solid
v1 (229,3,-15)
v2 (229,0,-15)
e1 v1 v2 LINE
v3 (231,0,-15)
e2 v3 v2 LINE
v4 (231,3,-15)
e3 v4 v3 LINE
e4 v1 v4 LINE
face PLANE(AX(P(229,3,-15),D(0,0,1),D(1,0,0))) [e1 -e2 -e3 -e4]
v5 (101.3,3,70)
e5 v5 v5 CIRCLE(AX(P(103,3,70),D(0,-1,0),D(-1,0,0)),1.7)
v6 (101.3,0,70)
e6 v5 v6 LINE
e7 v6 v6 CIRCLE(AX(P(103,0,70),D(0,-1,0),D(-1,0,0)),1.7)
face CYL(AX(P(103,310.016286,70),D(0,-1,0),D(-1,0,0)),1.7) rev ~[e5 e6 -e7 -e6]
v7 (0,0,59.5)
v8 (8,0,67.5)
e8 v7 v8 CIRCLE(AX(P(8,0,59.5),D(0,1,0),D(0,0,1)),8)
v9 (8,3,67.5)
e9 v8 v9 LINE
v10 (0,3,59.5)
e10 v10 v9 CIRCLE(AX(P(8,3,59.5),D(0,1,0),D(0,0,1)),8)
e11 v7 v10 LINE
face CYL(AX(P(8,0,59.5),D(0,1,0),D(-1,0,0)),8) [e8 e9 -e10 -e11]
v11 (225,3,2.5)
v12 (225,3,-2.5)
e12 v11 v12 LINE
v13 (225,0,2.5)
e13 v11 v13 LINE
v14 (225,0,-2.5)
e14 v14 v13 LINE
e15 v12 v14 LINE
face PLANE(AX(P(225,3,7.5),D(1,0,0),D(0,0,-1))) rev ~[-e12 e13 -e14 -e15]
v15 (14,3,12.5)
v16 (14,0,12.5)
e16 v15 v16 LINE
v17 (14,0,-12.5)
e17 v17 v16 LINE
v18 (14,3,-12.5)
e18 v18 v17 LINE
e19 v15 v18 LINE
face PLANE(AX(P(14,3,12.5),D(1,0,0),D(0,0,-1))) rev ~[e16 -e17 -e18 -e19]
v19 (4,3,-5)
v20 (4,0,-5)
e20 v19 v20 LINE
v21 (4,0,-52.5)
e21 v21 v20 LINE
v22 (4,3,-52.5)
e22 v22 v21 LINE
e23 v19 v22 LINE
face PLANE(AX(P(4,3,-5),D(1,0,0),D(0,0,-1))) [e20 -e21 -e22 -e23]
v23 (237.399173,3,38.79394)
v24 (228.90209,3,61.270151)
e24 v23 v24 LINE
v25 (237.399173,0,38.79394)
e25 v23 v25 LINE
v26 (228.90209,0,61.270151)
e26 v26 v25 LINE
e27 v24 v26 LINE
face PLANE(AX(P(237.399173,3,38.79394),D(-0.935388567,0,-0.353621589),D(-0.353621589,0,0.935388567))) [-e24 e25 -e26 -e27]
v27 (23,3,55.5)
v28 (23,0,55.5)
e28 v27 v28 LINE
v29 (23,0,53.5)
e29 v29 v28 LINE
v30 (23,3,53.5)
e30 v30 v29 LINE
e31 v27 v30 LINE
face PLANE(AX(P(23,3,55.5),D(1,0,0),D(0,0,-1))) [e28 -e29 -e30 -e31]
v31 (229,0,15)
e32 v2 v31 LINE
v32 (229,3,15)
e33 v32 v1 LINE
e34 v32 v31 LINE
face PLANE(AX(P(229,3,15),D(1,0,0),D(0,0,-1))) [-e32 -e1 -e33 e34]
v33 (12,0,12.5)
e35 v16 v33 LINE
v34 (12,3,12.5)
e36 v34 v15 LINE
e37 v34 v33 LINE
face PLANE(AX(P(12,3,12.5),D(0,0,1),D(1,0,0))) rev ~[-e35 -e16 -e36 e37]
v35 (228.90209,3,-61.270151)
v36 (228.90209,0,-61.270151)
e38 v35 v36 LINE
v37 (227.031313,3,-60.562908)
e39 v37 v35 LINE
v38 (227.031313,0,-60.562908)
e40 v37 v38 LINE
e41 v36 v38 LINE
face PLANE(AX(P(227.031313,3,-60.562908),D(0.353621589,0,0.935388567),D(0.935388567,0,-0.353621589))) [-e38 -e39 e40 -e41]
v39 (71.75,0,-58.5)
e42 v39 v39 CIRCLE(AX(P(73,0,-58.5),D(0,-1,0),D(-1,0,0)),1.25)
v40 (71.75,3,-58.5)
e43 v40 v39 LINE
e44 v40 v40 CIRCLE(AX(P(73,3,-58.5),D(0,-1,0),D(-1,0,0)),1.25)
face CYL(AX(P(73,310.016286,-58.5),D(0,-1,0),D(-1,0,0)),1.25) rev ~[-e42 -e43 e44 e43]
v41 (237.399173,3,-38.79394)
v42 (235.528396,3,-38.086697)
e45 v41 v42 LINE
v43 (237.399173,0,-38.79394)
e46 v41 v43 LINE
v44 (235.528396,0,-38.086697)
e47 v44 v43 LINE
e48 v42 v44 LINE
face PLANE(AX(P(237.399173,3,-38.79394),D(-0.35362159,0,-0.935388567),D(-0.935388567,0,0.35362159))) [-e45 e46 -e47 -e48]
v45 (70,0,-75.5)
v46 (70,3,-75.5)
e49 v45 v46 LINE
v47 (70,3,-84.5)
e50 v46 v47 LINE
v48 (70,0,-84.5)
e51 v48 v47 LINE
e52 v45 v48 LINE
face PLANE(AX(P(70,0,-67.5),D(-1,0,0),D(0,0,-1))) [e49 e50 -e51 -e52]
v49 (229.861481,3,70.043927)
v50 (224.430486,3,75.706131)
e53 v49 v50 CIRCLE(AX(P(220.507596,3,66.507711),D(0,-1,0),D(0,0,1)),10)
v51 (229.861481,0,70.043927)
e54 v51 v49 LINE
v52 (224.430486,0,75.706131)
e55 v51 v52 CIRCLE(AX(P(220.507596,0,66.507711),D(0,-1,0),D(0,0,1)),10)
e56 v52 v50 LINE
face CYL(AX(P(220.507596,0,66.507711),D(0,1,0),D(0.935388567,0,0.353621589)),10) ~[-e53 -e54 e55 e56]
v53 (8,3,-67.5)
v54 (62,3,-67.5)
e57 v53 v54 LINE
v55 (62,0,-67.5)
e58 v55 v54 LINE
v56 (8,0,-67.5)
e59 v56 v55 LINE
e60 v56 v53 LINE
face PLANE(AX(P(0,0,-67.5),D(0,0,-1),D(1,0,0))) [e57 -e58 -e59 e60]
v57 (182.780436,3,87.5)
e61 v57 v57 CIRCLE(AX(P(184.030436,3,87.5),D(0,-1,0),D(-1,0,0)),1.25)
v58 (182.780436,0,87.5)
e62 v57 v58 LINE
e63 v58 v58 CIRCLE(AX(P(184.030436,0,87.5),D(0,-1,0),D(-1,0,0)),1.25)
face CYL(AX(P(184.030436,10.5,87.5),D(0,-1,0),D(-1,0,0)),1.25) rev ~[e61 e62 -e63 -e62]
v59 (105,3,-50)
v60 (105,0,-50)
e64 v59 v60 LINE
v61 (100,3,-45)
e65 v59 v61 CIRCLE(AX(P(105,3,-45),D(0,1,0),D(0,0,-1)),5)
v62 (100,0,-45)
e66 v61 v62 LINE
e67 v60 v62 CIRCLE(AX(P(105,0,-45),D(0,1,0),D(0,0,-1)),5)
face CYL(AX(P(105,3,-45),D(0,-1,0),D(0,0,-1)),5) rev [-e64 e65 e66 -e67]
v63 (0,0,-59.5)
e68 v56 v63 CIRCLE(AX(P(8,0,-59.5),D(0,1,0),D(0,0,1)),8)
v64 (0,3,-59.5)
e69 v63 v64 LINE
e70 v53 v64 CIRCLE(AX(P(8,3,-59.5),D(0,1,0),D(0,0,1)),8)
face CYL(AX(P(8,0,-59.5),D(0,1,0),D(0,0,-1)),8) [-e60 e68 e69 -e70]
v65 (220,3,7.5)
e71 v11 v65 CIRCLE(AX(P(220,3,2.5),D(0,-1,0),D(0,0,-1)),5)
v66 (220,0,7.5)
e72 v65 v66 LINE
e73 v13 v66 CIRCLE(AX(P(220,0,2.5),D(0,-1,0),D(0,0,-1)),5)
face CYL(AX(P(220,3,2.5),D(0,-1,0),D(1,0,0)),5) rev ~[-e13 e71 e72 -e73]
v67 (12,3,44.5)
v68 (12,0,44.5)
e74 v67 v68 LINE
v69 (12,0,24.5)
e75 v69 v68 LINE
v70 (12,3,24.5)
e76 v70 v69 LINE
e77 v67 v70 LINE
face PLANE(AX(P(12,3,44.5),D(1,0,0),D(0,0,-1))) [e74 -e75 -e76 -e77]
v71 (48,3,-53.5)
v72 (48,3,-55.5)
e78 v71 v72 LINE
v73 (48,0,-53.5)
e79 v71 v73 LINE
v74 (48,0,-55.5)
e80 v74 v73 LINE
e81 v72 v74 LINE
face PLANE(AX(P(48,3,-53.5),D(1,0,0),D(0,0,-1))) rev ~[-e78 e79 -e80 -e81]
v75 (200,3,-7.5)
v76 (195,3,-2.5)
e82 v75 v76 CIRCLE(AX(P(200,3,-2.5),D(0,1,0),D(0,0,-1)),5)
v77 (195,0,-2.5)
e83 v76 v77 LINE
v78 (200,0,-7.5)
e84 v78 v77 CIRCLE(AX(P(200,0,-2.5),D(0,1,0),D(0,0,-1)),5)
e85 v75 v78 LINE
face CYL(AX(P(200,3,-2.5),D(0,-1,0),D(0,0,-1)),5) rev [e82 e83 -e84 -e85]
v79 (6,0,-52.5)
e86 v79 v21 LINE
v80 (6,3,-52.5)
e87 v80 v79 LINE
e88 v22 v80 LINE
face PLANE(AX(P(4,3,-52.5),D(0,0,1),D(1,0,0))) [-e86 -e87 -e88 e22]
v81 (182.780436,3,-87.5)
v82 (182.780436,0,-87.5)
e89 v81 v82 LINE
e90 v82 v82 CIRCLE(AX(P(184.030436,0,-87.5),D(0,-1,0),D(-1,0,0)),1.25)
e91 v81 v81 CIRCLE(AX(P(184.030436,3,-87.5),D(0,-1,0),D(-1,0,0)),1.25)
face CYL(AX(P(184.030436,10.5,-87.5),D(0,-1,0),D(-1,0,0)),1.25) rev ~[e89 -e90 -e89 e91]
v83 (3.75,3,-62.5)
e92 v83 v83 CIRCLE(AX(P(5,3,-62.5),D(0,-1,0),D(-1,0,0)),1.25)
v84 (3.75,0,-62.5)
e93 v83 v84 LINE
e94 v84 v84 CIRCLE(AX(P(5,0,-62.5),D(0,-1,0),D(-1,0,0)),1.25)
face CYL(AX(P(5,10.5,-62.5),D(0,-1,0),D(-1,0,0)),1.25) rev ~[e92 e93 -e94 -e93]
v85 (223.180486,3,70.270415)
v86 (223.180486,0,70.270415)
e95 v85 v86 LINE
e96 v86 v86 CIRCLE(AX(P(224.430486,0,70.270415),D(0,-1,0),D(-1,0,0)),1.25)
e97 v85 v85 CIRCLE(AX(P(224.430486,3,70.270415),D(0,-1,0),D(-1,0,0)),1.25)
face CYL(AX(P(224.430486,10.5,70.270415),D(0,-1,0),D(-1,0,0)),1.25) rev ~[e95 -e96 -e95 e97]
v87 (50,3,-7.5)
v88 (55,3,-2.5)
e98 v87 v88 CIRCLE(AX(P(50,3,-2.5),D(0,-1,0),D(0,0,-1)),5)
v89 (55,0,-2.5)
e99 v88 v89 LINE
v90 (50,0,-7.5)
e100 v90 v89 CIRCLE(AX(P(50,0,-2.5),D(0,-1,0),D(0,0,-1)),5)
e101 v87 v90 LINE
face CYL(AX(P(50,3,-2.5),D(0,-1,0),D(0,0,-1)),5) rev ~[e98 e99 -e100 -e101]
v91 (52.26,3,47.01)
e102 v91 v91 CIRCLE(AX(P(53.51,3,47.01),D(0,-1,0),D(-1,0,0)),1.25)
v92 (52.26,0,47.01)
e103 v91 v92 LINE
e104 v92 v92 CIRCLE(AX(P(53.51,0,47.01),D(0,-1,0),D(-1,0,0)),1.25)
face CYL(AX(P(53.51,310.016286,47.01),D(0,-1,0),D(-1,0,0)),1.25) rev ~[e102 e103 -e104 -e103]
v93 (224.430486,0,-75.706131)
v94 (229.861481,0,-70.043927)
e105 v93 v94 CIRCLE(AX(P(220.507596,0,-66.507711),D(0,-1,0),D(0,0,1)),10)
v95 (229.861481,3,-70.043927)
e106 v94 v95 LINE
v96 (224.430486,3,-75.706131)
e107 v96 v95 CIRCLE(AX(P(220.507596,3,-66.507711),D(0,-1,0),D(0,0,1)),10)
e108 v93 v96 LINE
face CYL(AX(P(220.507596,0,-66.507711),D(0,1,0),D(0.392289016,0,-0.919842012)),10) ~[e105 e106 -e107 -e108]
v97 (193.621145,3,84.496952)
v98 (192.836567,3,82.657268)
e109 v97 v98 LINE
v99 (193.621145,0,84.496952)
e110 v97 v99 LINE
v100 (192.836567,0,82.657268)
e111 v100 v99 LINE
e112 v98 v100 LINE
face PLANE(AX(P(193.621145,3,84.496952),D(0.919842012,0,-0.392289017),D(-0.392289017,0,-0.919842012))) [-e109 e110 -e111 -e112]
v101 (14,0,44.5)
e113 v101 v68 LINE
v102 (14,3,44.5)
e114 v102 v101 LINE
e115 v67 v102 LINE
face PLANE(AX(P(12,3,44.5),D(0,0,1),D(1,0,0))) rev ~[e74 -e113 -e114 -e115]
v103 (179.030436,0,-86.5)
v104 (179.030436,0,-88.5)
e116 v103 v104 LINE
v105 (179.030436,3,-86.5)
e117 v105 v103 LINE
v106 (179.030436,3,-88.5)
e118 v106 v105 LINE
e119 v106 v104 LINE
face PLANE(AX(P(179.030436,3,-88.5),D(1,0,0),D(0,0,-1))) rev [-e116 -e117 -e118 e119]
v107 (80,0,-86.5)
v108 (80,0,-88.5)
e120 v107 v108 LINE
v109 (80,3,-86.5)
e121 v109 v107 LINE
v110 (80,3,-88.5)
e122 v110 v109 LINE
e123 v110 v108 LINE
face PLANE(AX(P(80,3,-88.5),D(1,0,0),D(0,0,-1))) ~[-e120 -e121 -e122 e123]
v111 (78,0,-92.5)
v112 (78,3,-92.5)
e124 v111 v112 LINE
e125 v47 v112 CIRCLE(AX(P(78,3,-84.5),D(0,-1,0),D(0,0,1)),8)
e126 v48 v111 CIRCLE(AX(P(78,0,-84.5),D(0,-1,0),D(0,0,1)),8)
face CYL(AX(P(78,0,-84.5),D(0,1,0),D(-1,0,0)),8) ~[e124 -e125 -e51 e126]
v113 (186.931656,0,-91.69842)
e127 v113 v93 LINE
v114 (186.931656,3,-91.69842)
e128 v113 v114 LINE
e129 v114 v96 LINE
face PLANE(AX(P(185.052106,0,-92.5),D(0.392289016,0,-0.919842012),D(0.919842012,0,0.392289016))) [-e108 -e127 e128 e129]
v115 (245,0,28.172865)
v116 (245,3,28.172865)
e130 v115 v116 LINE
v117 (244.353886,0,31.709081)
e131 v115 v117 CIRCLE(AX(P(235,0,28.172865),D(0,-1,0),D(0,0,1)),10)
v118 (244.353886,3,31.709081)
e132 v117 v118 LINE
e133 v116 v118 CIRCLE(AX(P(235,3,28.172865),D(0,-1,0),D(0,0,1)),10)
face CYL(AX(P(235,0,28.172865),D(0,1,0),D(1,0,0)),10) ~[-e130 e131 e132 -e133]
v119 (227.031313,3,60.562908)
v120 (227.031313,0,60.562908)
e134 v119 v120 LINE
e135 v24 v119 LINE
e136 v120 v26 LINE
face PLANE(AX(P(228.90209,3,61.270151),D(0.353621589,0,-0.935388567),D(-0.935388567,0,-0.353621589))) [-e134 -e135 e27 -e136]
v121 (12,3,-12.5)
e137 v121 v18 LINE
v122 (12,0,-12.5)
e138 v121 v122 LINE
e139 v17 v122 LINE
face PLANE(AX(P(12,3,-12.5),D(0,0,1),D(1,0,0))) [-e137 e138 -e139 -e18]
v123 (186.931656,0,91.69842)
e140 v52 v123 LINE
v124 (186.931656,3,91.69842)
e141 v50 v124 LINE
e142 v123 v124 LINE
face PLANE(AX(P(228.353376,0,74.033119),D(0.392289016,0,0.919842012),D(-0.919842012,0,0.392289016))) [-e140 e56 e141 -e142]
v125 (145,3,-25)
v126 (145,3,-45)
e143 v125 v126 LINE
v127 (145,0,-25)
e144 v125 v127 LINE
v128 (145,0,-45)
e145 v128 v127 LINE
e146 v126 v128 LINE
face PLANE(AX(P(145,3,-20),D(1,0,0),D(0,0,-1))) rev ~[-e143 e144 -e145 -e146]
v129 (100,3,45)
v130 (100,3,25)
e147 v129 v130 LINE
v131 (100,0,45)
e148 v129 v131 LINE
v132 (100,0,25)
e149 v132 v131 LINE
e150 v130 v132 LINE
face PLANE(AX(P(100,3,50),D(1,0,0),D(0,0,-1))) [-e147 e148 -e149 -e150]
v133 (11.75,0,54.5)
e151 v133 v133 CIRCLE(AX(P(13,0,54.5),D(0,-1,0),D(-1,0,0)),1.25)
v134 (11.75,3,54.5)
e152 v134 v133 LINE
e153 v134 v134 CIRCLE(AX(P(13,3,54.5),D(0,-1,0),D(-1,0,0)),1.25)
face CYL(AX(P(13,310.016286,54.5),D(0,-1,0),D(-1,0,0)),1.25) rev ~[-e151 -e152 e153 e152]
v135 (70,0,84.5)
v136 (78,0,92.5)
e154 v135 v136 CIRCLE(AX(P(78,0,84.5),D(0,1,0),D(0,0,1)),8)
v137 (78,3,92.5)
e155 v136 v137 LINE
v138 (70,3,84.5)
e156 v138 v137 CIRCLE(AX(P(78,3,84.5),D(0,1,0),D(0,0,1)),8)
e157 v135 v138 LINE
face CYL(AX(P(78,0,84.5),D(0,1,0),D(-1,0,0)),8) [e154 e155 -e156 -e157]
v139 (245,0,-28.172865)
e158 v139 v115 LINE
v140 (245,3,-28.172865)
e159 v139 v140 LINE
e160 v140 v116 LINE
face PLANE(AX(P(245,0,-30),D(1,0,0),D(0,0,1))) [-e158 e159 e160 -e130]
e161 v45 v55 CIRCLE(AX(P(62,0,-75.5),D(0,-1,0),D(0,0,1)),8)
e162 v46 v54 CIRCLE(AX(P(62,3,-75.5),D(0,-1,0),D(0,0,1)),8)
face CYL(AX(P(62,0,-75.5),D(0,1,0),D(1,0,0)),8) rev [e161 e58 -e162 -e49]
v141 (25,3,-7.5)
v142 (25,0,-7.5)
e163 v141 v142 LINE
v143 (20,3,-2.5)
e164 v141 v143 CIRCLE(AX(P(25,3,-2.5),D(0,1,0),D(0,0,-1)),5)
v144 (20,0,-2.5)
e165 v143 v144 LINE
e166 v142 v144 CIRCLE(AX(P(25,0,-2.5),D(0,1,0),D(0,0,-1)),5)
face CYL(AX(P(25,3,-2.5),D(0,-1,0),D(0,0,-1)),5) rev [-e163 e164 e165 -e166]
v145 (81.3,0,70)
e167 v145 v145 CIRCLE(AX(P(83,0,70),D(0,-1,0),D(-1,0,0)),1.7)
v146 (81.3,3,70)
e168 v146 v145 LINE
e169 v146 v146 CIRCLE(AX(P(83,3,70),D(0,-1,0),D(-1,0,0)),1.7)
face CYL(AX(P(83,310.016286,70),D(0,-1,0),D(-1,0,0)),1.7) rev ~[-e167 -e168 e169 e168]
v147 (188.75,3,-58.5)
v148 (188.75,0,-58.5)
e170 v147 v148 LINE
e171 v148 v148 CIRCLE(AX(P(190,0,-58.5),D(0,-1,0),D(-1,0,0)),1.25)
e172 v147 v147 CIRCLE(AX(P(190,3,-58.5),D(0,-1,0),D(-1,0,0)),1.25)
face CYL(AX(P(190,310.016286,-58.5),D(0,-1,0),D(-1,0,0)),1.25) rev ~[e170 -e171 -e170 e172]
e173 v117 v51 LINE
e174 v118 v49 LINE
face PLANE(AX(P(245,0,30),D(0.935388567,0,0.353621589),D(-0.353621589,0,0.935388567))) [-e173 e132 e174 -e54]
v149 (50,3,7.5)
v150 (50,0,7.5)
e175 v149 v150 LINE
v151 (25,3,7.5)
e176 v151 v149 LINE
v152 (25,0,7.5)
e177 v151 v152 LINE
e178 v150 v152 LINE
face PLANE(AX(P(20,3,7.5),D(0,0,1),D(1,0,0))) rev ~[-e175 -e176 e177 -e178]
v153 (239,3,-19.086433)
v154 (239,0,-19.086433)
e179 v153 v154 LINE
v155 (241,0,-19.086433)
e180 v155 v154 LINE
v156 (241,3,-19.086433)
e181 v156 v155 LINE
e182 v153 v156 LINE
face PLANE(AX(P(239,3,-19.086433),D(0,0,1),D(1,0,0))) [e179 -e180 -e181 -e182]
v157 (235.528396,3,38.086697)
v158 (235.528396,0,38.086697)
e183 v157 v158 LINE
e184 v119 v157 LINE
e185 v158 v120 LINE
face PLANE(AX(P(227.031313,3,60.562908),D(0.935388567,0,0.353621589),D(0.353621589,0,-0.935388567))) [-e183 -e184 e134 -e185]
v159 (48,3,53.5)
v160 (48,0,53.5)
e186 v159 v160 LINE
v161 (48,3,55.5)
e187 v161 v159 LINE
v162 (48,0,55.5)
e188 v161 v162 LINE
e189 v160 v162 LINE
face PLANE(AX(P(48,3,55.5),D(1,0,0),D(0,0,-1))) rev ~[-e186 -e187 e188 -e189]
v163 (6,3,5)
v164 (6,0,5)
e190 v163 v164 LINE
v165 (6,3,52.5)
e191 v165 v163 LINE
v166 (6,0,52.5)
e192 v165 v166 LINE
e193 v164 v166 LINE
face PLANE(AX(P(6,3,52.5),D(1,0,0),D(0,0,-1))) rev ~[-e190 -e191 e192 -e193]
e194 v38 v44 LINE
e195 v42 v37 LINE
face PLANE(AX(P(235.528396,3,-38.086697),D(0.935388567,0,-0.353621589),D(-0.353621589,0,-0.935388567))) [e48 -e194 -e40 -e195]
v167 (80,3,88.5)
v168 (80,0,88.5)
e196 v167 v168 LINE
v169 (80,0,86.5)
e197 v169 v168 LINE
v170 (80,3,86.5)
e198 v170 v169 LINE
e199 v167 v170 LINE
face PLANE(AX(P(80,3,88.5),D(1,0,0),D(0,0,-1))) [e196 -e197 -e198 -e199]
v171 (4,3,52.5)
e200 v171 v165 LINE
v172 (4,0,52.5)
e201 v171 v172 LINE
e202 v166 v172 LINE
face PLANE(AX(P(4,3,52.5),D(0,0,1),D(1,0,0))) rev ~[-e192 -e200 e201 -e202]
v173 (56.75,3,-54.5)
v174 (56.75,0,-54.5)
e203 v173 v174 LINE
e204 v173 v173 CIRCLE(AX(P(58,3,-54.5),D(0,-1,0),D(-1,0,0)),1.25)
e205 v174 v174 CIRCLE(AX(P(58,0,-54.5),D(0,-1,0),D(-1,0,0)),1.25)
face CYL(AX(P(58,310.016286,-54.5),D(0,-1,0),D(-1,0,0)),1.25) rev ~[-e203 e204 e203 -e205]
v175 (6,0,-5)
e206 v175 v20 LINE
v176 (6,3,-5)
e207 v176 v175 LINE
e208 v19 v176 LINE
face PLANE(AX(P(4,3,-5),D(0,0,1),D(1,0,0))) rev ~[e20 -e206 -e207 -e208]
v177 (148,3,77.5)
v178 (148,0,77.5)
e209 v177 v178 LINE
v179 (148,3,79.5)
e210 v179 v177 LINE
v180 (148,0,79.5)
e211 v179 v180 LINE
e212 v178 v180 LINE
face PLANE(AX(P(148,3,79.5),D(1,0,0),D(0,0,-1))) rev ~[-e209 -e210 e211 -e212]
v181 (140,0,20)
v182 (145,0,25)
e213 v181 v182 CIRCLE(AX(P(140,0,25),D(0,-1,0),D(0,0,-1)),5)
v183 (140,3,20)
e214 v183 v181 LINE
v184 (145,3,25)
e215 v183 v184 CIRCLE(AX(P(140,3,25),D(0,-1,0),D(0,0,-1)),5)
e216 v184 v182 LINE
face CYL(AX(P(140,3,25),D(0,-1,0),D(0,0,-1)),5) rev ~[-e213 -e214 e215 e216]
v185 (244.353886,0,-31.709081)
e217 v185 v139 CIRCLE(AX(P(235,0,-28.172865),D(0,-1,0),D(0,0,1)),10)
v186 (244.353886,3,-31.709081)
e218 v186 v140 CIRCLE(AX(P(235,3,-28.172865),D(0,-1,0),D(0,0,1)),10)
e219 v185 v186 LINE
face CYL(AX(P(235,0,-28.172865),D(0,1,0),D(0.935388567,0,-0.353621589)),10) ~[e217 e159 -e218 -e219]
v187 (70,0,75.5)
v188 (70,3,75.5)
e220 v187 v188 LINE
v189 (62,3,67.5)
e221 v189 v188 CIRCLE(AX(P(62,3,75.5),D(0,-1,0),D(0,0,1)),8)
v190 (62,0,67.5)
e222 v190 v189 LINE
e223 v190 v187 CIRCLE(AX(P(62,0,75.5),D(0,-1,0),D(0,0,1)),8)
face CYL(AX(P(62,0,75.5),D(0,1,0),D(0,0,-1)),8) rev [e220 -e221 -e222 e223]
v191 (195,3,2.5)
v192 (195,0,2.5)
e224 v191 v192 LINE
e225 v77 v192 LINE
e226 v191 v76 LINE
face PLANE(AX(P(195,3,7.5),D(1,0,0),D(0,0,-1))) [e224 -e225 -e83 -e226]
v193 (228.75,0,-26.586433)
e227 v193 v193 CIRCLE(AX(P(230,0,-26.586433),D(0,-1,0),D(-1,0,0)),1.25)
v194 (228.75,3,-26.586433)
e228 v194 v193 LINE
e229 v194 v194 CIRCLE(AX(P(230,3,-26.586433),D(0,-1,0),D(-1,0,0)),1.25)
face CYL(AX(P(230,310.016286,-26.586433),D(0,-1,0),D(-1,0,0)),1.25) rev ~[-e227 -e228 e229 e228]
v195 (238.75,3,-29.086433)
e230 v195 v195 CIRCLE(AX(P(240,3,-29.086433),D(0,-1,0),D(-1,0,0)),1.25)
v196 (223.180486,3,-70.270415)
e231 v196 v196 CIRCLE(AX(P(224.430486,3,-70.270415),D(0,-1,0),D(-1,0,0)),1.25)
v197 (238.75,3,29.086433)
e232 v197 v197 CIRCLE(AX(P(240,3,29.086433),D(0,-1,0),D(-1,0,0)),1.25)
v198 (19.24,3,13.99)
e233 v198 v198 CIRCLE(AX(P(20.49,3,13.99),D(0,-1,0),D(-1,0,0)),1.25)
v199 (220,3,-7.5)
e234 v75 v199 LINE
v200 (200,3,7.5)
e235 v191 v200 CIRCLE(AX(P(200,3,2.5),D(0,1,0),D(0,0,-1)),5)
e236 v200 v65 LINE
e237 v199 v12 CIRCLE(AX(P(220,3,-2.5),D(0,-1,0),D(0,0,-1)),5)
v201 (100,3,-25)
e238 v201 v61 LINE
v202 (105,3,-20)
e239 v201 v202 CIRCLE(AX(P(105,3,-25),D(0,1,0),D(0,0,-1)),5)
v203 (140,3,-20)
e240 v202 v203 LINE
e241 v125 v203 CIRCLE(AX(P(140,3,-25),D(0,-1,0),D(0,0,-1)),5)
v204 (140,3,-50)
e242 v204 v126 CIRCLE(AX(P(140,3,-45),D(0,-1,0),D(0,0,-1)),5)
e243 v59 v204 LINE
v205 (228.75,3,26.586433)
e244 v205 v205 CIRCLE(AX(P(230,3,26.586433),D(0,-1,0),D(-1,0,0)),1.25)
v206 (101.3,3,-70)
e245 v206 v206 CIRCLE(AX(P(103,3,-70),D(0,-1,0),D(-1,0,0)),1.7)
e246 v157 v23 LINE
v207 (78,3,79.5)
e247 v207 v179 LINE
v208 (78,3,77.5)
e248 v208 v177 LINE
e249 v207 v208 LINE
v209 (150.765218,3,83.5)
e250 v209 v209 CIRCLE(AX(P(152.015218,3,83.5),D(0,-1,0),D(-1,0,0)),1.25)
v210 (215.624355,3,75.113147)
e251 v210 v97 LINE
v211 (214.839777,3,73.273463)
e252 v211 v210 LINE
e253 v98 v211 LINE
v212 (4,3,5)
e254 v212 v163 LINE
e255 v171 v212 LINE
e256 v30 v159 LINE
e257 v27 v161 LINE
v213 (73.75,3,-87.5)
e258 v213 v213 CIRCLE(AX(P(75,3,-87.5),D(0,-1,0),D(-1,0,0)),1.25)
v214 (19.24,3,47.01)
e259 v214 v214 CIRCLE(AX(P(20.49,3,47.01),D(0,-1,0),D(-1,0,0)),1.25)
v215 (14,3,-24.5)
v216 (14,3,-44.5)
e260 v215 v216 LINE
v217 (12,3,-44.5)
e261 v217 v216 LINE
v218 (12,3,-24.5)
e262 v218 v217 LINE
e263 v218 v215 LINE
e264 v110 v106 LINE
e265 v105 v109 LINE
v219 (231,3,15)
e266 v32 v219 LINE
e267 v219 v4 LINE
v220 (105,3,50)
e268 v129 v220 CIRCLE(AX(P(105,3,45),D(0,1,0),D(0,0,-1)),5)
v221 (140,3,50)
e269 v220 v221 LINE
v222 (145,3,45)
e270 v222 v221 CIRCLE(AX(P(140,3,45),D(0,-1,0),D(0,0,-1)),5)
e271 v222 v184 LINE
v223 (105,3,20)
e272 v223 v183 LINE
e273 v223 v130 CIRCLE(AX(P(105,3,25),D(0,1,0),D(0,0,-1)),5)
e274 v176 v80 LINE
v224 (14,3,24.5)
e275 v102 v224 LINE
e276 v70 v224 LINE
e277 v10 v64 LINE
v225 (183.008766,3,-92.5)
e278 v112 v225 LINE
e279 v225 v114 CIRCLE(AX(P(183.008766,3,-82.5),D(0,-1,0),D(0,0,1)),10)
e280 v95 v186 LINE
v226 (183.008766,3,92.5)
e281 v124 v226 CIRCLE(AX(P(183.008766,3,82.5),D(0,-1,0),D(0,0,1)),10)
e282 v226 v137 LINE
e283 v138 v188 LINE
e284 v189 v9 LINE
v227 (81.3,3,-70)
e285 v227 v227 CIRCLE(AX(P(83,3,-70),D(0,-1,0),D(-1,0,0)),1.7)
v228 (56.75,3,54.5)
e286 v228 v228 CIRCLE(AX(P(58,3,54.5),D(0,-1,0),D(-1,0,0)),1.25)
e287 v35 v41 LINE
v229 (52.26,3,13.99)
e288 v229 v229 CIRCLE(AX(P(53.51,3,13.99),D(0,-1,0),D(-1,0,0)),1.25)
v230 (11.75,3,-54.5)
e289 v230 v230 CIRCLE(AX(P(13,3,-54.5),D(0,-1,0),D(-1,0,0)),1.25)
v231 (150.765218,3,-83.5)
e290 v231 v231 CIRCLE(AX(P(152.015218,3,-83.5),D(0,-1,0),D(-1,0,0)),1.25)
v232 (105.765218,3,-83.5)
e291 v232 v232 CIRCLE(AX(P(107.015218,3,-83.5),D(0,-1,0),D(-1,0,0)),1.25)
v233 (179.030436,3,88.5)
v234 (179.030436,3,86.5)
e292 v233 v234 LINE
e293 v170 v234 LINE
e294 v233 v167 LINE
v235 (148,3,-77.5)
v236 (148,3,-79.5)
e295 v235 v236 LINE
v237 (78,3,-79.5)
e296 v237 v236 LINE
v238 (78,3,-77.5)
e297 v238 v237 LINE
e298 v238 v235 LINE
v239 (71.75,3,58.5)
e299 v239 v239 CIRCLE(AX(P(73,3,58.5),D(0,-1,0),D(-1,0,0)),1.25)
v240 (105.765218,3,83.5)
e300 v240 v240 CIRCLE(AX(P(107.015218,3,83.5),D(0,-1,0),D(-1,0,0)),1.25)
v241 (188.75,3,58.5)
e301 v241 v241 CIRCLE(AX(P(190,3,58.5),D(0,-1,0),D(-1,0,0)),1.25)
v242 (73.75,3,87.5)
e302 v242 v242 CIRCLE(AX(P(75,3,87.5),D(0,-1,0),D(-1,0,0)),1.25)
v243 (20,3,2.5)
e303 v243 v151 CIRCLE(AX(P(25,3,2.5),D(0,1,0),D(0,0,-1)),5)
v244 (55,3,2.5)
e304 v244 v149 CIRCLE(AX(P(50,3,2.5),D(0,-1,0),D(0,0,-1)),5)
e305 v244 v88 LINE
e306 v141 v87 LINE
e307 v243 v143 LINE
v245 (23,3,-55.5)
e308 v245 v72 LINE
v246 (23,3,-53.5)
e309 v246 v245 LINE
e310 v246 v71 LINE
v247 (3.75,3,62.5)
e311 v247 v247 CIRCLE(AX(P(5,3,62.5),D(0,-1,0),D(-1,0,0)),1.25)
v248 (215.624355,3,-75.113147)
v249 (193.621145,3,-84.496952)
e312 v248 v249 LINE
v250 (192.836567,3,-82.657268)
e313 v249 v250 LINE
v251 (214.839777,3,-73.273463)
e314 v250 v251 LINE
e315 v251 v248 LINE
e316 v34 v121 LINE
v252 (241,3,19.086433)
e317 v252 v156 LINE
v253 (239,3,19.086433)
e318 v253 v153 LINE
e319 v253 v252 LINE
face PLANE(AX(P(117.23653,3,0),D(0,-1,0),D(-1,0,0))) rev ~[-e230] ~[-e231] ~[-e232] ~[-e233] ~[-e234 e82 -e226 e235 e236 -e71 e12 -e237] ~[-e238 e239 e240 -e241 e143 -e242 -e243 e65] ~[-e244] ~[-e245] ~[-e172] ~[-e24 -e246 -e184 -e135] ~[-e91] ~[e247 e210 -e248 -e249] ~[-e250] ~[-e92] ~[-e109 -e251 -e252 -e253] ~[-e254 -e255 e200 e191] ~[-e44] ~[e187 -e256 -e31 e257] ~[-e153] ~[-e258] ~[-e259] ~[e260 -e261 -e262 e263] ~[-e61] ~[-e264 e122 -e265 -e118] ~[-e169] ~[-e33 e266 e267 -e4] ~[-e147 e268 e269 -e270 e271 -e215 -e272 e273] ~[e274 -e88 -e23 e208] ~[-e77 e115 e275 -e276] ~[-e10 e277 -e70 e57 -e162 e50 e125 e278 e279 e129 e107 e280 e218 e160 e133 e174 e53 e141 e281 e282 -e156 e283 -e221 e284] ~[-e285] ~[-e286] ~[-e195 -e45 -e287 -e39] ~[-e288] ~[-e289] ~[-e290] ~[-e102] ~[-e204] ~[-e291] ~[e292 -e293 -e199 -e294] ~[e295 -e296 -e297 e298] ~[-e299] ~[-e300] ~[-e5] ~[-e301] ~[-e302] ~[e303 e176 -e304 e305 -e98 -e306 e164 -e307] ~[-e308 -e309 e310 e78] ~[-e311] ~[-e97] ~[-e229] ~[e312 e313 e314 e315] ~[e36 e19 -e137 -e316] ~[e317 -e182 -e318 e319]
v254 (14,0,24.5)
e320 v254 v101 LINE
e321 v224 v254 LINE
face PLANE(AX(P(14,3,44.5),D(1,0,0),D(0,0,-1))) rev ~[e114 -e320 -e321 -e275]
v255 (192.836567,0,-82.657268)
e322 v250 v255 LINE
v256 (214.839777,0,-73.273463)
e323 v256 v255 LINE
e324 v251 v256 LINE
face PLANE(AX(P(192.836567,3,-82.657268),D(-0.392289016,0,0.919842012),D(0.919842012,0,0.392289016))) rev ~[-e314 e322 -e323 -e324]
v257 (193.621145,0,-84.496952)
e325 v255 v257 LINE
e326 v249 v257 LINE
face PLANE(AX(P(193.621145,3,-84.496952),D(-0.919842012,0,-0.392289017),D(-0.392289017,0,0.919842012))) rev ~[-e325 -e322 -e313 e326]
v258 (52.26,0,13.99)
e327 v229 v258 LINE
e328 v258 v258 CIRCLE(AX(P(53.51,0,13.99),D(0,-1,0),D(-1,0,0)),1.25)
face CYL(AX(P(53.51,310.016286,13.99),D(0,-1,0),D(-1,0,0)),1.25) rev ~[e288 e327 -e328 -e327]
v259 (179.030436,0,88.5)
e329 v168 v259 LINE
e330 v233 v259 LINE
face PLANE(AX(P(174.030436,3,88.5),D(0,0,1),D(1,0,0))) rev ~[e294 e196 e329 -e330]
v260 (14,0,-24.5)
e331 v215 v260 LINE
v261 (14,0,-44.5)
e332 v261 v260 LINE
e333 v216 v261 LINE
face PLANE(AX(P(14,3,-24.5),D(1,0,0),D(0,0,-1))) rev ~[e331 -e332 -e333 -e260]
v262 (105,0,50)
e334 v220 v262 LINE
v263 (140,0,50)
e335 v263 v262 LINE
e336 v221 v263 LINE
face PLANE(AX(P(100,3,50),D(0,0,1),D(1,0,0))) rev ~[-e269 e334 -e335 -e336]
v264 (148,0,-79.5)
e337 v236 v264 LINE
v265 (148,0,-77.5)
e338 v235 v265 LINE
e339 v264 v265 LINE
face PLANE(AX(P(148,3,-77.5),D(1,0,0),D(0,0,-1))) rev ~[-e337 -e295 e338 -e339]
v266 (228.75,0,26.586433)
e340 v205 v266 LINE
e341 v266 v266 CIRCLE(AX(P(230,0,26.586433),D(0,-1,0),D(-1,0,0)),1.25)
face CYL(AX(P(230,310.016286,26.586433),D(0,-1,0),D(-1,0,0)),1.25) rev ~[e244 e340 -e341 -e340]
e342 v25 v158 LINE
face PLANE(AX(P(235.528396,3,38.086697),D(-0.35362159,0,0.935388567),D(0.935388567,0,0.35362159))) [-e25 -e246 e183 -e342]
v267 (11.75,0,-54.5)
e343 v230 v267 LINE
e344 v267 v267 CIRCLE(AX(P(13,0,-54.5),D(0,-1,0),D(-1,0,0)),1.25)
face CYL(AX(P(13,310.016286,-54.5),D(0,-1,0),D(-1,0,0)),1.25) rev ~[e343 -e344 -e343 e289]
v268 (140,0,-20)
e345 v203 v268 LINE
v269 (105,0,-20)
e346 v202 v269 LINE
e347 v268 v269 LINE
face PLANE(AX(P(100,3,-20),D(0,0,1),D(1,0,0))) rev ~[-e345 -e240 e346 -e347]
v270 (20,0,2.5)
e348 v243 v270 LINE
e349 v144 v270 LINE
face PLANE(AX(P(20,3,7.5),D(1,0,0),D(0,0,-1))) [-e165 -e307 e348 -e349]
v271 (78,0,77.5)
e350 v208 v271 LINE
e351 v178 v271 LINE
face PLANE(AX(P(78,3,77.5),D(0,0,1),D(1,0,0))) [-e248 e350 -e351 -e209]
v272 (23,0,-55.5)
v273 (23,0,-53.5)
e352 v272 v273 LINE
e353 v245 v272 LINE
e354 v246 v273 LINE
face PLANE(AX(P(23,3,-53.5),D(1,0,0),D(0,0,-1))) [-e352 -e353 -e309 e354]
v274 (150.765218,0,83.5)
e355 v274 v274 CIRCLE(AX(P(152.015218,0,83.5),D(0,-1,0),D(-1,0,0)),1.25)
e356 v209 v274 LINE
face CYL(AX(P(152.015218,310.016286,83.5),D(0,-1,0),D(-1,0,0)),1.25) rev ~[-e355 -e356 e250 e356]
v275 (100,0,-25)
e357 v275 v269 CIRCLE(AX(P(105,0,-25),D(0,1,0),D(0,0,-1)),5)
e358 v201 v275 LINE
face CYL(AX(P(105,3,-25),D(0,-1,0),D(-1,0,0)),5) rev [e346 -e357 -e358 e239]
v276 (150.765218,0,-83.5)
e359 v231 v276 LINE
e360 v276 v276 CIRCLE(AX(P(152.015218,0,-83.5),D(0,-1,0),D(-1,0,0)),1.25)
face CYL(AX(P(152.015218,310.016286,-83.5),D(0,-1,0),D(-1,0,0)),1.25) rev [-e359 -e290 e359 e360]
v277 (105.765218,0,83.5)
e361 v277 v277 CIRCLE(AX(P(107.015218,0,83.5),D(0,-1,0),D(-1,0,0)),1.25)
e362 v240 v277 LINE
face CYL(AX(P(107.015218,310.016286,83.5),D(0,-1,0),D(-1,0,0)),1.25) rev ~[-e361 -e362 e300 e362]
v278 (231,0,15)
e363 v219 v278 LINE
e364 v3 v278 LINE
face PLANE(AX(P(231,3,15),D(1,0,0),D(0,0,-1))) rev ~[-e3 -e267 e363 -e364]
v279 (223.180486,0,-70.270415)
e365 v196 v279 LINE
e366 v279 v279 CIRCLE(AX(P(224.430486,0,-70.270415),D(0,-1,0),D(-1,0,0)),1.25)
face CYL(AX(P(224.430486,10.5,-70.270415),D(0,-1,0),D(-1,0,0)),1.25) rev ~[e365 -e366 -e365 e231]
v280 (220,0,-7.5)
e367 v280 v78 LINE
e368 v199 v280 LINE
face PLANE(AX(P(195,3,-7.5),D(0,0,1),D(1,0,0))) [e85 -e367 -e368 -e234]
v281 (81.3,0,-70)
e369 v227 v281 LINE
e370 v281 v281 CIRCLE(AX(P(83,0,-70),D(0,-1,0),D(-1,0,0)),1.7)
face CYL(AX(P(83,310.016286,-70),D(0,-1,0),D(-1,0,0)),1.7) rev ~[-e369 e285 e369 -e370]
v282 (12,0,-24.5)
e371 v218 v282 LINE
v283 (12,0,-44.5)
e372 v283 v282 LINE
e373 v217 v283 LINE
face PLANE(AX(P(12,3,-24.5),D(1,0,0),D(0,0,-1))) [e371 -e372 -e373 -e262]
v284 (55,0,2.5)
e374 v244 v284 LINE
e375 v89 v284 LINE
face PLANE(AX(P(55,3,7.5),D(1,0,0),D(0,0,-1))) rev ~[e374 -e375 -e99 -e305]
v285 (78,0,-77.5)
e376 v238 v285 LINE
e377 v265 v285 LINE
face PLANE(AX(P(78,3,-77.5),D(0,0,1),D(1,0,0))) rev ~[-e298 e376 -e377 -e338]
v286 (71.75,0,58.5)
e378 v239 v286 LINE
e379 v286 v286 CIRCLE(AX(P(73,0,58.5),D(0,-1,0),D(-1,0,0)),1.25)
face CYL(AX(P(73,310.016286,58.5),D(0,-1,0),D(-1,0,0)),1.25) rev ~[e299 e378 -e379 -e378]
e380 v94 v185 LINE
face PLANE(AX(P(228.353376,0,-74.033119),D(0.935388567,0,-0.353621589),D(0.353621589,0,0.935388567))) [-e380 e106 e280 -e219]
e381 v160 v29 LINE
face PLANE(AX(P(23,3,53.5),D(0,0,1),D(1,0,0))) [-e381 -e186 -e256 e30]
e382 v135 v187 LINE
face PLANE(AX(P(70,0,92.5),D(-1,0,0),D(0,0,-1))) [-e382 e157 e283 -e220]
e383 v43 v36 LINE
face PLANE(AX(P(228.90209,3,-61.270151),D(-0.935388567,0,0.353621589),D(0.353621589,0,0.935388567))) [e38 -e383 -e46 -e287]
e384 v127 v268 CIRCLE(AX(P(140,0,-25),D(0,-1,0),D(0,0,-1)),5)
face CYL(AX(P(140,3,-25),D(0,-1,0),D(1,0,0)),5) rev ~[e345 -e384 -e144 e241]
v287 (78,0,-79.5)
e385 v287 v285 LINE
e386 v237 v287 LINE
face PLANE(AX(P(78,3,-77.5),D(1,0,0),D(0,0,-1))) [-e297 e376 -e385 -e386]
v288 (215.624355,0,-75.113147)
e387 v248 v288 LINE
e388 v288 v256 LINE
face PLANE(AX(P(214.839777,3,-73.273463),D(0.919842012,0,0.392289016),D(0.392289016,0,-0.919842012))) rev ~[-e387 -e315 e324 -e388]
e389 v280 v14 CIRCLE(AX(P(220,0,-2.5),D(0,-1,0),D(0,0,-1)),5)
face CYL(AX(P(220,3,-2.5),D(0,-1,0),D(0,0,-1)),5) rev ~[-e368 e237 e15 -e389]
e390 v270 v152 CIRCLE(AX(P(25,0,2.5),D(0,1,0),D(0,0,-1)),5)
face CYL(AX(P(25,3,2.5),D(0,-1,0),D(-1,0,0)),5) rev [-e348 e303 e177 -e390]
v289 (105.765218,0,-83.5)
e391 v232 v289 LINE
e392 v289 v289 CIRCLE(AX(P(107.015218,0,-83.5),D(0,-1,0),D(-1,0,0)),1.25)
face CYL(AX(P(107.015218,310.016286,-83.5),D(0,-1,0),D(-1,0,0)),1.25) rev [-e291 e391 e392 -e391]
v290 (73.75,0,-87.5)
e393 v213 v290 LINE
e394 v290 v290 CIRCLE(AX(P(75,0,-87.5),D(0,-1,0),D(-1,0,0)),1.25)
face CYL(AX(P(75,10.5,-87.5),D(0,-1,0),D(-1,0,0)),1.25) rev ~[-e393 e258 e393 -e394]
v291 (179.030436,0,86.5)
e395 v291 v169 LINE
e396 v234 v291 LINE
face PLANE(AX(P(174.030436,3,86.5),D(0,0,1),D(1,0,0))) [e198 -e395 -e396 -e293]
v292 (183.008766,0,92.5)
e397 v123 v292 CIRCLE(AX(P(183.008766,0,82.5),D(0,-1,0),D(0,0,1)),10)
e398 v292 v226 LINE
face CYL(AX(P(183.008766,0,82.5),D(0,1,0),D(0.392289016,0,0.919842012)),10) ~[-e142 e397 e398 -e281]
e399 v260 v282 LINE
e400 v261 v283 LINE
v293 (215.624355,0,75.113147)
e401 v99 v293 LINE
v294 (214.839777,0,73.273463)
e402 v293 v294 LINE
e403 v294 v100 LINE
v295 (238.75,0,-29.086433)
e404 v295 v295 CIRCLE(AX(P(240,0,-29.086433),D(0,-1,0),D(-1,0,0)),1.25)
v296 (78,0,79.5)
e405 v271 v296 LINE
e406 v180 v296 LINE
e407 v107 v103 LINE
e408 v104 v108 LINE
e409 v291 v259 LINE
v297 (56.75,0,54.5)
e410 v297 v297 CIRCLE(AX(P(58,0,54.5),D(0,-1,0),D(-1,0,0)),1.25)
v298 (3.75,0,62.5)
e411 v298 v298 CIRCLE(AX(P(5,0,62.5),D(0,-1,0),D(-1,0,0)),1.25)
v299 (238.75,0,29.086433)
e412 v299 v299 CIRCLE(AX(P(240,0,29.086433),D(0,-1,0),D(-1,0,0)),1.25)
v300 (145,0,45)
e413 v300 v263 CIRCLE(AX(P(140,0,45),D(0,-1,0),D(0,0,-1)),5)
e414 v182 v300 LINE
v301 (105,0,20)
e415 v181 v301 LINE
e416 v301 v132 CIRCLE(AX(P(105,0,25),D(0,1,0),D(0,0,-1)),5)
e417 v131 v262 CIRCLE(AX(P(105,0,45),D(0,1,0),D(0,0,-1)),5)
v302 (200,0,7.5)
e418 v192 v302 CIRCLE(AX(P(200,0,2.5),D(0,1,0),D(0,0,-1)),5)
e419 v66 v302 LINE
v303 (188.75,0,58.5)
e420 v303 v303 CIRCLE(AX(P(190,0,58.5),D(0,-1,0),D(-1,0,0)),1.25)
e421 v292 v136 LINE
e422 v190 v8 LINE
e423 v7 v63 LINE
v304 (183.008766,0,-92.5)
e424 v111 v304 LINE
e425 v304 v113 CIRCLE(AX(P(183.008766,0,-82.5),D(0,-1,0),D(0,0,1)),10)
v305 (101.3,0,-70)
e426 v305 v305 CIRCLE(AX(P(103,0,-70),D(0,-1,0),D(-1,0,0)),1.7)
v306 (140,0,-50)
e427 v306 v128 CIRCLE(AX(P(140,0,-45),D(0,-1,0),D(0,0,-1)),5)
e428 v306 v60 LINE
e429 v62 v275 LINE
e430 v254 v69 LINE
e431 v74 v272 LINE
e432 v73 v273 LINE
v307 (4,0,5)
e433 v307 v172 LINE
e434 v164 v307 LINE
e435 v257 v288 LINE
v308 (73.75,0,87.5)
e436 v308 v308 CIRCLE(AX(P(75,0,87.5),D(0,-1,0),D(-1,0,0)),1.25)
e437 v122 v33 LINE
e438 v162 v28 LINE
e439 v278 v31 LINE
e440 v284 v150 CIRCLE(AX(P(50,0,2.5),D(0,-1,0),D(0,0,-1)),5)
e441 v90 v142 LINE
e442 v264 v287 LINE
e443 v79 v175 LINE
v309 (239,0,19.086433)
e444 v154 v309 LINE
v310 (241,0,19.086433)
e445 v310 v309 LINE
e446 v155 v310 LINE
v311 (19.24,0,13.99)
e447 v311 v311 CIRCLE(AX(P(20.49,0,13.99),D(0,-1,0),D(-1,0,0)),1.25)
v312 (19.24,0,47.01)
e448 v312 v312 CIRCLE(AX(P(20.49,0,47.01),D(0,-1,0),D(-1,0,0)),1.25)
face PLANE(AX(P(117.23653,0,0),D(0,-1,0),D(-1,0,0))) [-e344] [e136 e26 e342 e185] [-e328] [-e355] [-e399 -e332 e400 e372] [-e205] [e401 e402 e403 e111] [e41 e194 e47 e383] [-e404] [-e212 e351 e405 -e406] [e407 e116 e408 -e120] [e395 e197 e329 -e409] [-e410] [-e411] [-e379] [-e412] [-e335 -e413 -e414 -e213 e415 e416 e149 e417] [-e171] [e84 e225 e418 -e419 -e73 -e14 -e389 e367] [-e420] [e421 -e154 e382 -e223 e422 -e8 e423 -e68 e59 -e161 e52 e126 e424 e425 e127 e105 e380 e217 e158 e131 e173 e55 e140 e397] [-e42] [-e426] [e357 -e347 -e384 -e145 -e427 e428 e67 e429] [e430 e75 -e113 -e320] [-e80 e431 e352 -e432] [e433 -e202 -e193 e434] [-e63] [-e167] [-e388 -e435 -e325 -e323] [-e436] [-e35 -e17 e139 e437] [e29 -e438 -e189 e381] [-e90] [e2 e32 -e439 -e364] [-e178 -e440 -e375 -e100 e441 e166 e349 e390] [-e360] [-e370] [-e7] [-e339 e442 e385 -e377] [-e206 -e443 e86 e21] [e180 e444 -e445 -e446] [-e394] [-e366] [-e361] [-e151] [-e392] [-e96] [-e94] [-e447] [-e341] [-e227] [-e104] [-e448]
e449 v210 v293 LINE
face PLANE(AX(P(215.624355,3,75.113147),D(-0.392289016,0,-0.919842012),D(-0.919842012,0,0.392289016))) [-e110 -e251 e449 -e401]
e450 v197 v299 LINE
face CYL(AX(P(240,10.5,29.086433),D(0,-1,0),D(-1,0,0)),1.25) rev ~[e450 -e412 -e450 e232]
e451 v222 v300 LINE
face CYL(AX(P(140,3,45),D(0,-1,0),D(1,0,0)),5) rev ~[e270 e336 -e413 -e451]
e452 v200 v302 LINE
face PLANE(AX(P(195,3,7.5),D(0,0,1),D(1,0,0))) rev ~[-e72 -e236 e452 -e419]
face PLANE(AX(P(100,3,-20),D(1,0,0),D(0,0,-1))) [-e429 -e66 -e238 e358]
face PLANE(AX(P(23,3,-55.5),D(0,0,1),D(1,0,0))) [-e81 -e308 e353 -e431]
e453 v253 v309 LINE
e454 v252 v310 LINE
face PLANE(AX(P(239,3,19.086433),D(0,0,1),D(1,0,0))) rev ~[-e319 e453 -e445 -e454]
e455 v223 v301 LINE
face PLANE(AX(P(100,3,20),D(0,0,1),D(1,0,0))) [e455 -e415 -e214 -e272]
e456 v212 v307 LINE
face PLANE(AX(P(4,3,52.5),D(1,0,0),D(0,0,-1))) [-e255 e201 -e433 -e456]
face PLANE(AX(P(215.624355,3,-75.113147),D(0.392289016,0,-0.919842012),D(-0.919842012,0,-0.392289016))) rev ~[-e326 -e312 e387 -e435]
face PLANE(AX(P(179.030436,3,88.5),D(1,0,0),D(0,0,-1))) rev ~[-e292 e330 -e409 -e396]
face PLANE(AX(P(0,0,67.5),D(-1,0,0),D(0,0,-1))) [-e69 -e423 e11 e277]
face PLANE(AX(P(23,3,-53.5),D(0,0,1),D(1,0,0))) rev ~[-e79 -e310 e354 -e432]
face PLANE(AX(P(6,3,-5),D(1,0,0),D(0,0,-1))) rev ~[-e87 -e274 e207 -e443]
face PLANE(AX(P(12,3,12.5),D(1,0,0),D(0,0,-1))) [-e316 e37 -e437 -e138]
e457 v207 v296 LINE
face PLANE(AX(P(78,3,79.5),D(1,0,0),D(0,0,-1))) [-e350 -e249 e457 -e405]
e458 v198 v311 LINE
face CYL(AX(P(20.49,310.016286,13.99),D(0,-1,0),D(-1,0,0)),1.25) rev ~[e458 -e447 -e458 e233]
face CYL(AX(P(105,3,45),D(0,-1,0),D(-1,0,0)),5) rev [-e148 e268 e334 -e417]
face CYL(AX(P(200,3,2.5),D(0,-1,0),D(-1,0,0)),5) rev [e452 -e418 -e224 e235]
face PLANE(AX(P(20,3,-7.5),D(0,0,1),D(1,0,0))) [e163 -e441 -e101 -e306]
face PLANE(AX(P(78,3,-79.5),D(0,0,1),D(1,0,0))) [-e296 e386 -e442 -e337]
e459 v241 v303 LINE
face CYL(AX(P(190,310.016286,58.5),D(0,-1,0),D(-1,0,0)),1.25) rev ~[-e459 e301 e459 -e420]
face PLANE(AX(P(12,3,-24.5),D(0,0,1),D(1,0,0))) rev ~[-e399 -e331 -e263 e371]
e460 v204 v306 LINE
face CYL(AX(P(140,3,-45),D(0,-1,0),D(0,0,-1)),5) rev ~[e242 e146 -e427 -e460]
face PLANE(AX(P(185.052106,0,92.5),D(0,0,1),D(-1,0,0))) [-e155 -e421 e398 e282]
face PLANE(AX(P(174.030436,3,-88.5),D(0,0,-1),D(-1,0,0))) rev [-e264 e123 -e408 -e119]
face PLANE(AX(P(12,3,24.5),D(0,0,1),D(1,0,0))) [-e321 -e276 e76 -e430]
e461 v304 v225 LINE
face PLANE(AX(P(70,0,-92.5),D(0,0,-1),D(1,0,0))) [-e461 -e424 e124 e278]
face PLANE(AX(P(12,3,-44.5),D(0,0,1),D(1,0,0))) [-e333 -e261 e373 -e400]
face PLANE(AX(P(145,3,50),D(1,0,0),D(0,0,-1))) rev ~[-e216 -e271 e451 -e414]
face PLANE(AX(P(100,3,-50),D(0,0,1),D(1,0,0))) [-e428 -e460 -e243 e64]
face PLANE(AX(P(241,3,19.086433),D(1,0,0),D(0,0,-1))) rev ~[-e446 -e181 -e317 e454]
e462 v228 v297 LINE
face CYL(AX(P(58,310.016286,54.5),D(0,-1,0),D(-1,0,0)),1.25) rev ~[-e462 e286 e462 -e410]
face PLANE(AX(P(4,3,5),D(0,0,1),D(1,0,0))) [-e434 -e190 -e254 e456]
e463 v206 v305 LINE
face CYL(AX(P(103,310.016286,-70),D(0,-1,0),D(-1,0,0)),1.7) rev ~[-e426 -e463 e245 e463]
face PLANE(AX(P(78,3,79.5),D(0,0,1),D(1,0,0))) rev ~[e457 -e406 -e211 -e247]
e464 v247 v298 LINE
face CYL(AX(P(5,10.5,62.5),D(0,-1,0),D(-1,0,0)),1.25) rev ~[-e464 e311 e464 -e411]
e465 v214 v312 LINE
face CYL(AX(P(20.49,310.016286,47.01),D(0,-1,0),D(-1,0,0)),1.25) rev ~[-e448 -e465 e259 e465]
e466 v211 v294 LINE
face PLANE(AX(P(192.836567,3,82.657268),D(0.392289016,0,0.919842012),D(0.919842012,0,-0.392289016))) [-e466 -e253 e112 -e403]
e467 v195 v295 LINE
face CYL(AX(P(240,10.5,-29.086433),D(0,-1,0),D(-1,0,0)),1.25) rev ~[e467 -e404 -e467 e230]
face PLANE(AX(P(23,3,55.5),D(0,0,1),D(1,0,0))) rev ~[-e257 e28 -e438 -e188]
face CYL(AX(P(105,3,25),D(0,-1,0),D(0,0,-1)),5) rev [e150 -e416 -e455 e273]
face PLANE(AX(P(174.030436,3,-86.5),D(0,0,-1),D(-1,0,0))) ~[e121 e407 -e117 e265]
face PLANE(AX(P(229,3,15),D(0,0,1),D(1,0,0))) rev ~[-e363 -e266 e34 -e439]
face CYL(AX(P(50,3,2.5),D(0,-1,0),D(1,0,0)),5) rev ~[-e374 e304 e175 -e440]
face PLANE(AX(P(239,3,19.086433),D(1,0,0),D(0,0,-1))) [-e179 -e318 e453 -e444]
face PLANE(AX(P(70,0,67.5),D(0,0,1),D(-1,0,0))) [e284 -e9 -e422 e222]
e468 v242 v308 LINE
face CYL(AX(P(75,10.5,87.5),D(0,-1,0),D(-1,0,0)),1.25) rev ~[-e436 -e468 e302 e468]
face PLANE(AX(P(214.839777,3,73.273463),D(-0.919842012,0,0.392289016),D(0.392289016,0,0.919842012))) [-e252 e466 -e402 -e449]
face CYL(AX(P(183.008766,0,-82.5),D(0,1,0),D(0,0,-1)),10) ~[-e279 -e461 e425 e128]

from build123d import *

# Parameters (mm, degrees)
ESTRUSIONE_ESTRUSIONE1_DEPTH  = 3
FORO_FILETTATO_M3X0_5_1_D     = 2.5
FORO_FILETTATO_M3X0_5_1_DEPTH = 7.5
FORO_FILETTATO_M3X0_5_1_TIP   = 0.751075774
SCHIZZO4_W                    = 89.03043591
SCHIZZO4_H                    = 2
TAGLIO_ESTRUSIONE2_DEPTH      = 10
FORO_FILETTATO_M3X0_5_7_D     = 2.5
SCHIZZO29_W                   = 5
SCHIZZO29_H                   = 2
TAGLIO_ESTRUSIONE13_DEPTH     = 10
SCHIZZO7_W                    = 2
SCHIZZO7_H                    = 47.5
TAGLIO_ESTRUSIONE5_DEPTH      = 10
SCHIZZO10_W                   = 2
SCHIZZO10_H                   = 38.172865154
TAGLIO_ESTRUSIONE6_DEPTH      = 262.897403576
FORO_FILETTATO_M3X0_5_2_D     = 2.5
SCHIZZO17_W                   = 25
SCHIZZO17_H                   = 2
SCHIZZO17_W_2                 = 2
SCHIZZO17_H_2                 = 20
SCHIZZO17_H_3                 = 25
TAGLIO_ESTRUSIONE9_DEPTH      = 10
SCHIZZO18_W                   = 70
SCHIZZO18_H                   = 2
TAGLIO_ESTRUSIONE10_DEPTH     = 10
FORO_FILETTATO_M3X0_5_3_D     = 2.5
SCHIZZO25_W                   = 2
SCHIZZO25_H                   = 30
TAGLIO_ESTRUSIONE11_DEPTH     = 10
FORO_FILETTATO_M3X0_5_6_D     = 2.5
SCHIZZO36_W                   = 30
SCHIZZO36_H                   = 15
TAGLIO_ESTRUSIONE15_DEPTH     = 10
SCHIZZO37_W                   = 35
SCHIZZO37_H                   = 15
TAGLIO_ESTRUSIONE16_DEPTH     = 10
SCHIZZO38_W                   = 45
SCHIZZO38_H                   = 30
TAGLIO_ESTRUSIONE17_DEPTH     = 10
FORO_FILETTATO_M3X0_5_9_D     = 2.5
RACCORDO1_R                   = 8
RACCORDO2_R                   = 10
RACCORDO3_R                   = 5
FORO_PER_VITE_M3_1_D          = 3.4


with BuildPart() as part:
    # Schizzo1 → Estrusione-Estrusione1 (new body)
    with BuildSketch(Plane(origin=(0, 0, 0), x_dir=(1, 0, 0), z_dir=(0, 1, 0))):
        Polygon((70, 67.5), (70, 92.5), (185.052105959, 92.5), (228.353376148, 74.033119315), (245, 30), (245, -30), (228.353376148, -74.033119315), (185.052105959, -92.5), (70, -92.5), (70, -67.5), (0, -67.5), (0, 67.5), align=None)
    extrude(amount=ESTRUSIONE_ESTRUSIONE1_DEPTH)

    # Foro filettato M3x0.5-1
    with Locations(Plane(origin=(0, 3, 0), x_dir=(1, 0, 0), z_dir=(0, 1, 0))):
        with Locations((224.430485984, 70.270415253), (240, 29.086432577), (240, -29.086432577), (224.430485984, -70.270415253), (184.03043591, -87.5), (184.03043591, 87.5), (75, 87.5), (75, -87.5), (5, -62.5), (5, 62.5)):
            Hole(FORO_FILETTATO_M3X0_5_1_D / 2, depth=FORO_FILETTATO_M3X0_5_1_DEPTH)
            with Locations((0, 0, -(FORO_FILETTATO_M3X0_5_1_DEPTH + FORO_FILETTATO_M3X0_5_1_TIP / 2))):  # 118° drill point
                Cone(0, FORO_FILETTATO_M3X0_5_1_D / 2, FORO_FILETTATO_M3X0_5_1_TIP, mode=Mode.SUBTRACT)

    # Schizzo4 → Taglio-Estrusione2 (cut)
    with BuildSketch(Plane(origin=(0, 3, 0), x_dir=(1, 0, 0), z_dir=(0, 1, 0))):
        with Locations((129.515217955, -87.5)):
            Rectangle(SCHIZZO4_W, SCHIZZO4_H)
        Polygon((235.52839554, 38.086696659), (227.03131331, 60.562907992), (228.902090444, 61.27015117), (237.399172674, 38.793939838), align=None)
        with Locations((129.515217955, 87.5)):
            Rectangle(SCHIZZO4_W, SCHIZZO4_H)
        Polygon((215.624354877, 75.113147429), (193.62114505, 84.496951848), (192.836567017, 82.657267824), (214.839776844, 73.273463404), align=None)
        Polygon((192.836567017, -82.657267824), (214.839776844, -73.273463404), (215.624354877, -75.113147429), (193.62114505, -84.496951848), align=None)
        Polygon((227.03131331, -60.562907992), (235.52839554, -38.086696659), (237.399172674, -38.793939838), (228.902090444, -61.27015117), align=None)
    extrude(amount=-TAGLIO_ESTRUSIONE2_DEPTH, mode=Mode.SUBTRACT)

    # Foro filettato M3x0.5-7 (through all)
    with Locations(Plane(origin=(0, 3, 0), x_dir=(1, 0, 0), z_dir=(0, 1, 0))):
        with Locations((107.015217955, -83.5), (152.015217955, -83.5)):
            foro_filettato_m3x0_5_7 = Hole(FORO_FILETTATO_M3X0_5_7_D / 2)

    # Schizzo29 → Taglio-Estrusione13 (cut)
    with BuildSketch(Plane(origin=(0, 3, 0), x_dir=(1, 0, 0), z_dir=(0, 1, 0))):
        with Locations((82.5, -87.5)):
            Rectangle(SCHIZZO29_W, SCHIZZO29_H)
        with Locations((176.53043591, -87.5)):
            Rectangle(SCHIZZO29_W, SCHIZZO29_H)
    taglio_estrusione13 = extrude(amount=-TAGLIO_ESTRUSIONE13_DEPTH, mode=Mode.SUBTRACT)

    # Specchia2: Foro filettato M3x0.5-7, Taglio-Estrusione13 across plane
    add(foro_filettato_m3x0_5_7.mirror(Plane.XY), mode=Mode.SUBTRACT)
    add(taglio_estrusione13.mirror(Plane.XY), mode=Mode.SUBTRACT)

    # Schizzo7 → Taglio-Estrusione5 (cut)
    with BuildSketch(Plane(origin=(0, 3, 0), x_dir=(1, 0, 0), z_dir=(0, 1, 0))):
        with Locations((5, 28.75)):
            Rectangle(SCHIZZO7_W, SCHIZZO7_H)
        with Locations((5, -28.75)):
            Rectangle(SCHIZZO7_W, SCHIZZO7_H)
    extrude(amount=-TAGLIO_ESTRUSIONE5_DEPTH, mode=Mode.SUBTRACT)

    # Schizzo10 → Taglio-Estrusione6 (cut, through all)
    with BuildSketch(Plane(origin=(0, 3, 0), x_dir=(1, 0, 0), z_dir=(0, 1, 0))):
        with Locations((240, 0)):
            Rectangle(SCHIZZO10_W, SCHIZZO10_H)
    extrude(amount=-TAGLIO_ESTRUSIONE6_DEPTH, mode=Mode.SUBTRACT)

    # Foro filettato M3x0.5-2 (through all)
    with Locations(Plane(origin=(0, 3, 0), x_dir=(1, 0, 0), z_dir=(0, 1, 0))):
        with Locations((13, 54.5), (13, -54.5), (58, -54.5), (58, 54.5)):
            Hole(FORO_FILETTATO_M3X0_5_2_D / 2)

    # Schizzo17 → Taglio-Estrusione9 (cut)
    with BuildSketch(Plane(origin=(0, 3, 0), x_dir=(1, 0, 0), z_dir=(0, 1, 0))):
        with Locations((35.5, -54.5)):
            Rectangle(SCHIZZO17_W, SCHIZZO17_H)
        with Locations((13, -34.5)):
            Rectangle(SCHIZZO17_W_2, SCHIZZO17_H_2)
        with Locations((13, 34.5)):
            Rectangle(SCHIZZO17_W_2, SCHIZZO17_H_2)
        with Locations((35.5, 54.5)):
            Rectangle(SCHIZZO17_W, SCHIZZO17_H)
        with Locations((13, 0)):
            Rectangle(SCHIZZO17_W_2, SCHIZZO17_H_3)
    extrude(amount=-TAGLIO_ESTRUSIONE9_DEPTH, mode=Mode.SUBTRACT)

    # Schizzo18 → Taglio-Estrusione10 (cut)
    with BuildSketch(Plane(origin=(0, 3, 0), x_dir=(1, 0, 0), z_dir=(0, 1, 0))):
        with Locations((113, 78.5)):
            Rectangle(SCHIZZO18_W, SCHIZZO18_H)
        with Locations((113, -78.5)):
            Rectangle(SCHIZZO18_W, SCHIZZO18_H)
    extrude(amount=-TAGLIO_ESTRUSIONE10_DEPTH, mode=Mode.SUBTRACT)

    # Foro filettato M3x0.5-3 (through all)
    with Locations(Plane(origin=(0, 3, 0), x_dir=(1, 0, 0), z_dir=(0, 1, 0))):
        with Locations((230, 26.586432577), (230, -26.586432577)):
            Hole(FORO_FILETTATO_M3X0_5_3_D / 2)

    # Schizzo25 → Taglio-Estrusione11 (cut)
    with BuildSketch(Plane(origin=(0, 3, 0), x_dir=(1, 0, 0), z_dir=(0, 1, 0))):
        with Locations((230, 0)):
            Rectangle(SCHIZZO25_W, SCHIZZO25_H)
    extrude(amount=-TAGLIO_ESTRUSIONE11_DEPTH, mode=Mode.SUBTRACT)

    # Foro filettato M3x0.5-6 (through all)
    with Locations(Plane(origin=(0, 3, 0), x_dir=(1, 0, 0), z_dir=(0, 1, 0))):
        with Locations((73, 58.5), (190, 58.5), (190, -58.5), (73, -58.5)):
            Hole(FORO_FILETTATO_M3X0_5_6_D / 2)

    # Schizzo36 → Taglio-Estrusione15 (cut)
    with BuildSketch(Plane(origin=(0, 3, 0), x_dir=(1, 0, 0), z_dir=(0, 1, 0))):
        with Locations((210, 0)):
            Rectangle(SCHIZZO36_W, SCHIZZO36_H)
    extrude(amount=-TAGLIO_ESTRUSIONE15_DEPTH, mode=Mode.SUBTRACT)

    # Schizzo37 → Taglio-Estrusione16 (cut)
    with BuildSketch(Plane(origin=(0, 3, 0), x_dir=(1, 0, 0), z_dir=(0, 1, 0))):
        with Locations((37.5, 0)):
            Rectangle(SCHIZZO37_W, SCHIZZO37_H)
    extrude(amount=-TAGLIO_ESTRUSIONE16_DEPTH, mode=Mode.SUBTRACT)

    # Schizzo38 → Taglio-Estrusione17 (cut)
    with BuildSketch(Plane(origin=(0, 3, 0), x_dir=(1, 0, 0), z_dir=(0, 1, 0))):
        with Locations((122.5, 35)):
            Rectangle(SCHIZZO38_W, SCHIZZO38_H)
        with Locations((122.5, -35)):
            Rectangle(SCHIZZO38_W, SCHIZZO38_H)
    extrude(amount=-TAGLIO_ESTRUSIONE17_DEPTH, mode=Mode.SUBTRACT)

    # Foro filettato M3x0.5-9 (through all)
    with Locations(Plane(origin=(0, 3, 0), x_dir=(1, 0, 0), z_dir=(0, 1, 0))):
        with Locations((20.49, -47.01), (53.51, -47.01), (53.51, -13.99), (20.49, -13.99)):
            Hole(FORO_FILETTATO_M3X0_5_9_D / 2)

    # Raccordo1
    raccordo1_edges = [part.edges().sort_by_distance(p)[0] for p in [
        (0, 1.5, -67.5),
        (70, 1.5, -67.5),
        (70, 1.5, -92.5),
        (70, 1.5, 92.5),
        (70, 1.5, 67.5),
        (0, 1.5, 67.5),
    ]]
    fillet(raccordo1_edges, radius=RACCORDO1_R)

    # Raccordo2
    raccordo2_edges = [part.edges().sort_by_distance(p)[0] for p in [
        (185.052105959, 1.5, -92.5),
        (228.353376148, 1.5, -74.033119315),
        (245, 1.5, -30),
        (245, 1.5, 30),
        (228.353376148, 1.5, 74.033119315),
        (185.052105959, 1.5, 92.5),
    ]]
    fillet(raccordo2_edges, radius=RACCORDO2_R)

    # Raccordo3
    raccordo3_edges = [part.edges().sort_by_distance(p)[0] for p in [
        (195, 1.5, 7.5),
        (195, 1.5, -7.5),
        (225, 1.5, -7.5),
        (225, 1.5, 7.5),
        (20, 1.5, 7.5),
        (20, 1.5, -7.5),
        (55, 1.5, -7.5),
        (55, 1.5, 7.5),
        (100, 1.5, -20),
        (100, 1.5, -50),
        (145, 1.5, -50),
        (145, 1.5, -20),
        (100, 1.5, 50),
        (100, 1.5, 20),
        (145, 1.5, 20),
        (145, 1.5, 50),
    ]]
    fillet(raccordo3_edges, radius=RACCORDO3_R)

    # Foro per Vite M3-1 (through all)
    with Locations(Plane(origin=(0, 3, 0), x_dir=(1, 0, 0), z_dir=(0, 1, 0))):
        with Locations((83, 70), (103, 70), (103, -70), (83, -70)):
            Hole(FORO_PER_VITE_M3_1_D / 2)


solid = part.part
